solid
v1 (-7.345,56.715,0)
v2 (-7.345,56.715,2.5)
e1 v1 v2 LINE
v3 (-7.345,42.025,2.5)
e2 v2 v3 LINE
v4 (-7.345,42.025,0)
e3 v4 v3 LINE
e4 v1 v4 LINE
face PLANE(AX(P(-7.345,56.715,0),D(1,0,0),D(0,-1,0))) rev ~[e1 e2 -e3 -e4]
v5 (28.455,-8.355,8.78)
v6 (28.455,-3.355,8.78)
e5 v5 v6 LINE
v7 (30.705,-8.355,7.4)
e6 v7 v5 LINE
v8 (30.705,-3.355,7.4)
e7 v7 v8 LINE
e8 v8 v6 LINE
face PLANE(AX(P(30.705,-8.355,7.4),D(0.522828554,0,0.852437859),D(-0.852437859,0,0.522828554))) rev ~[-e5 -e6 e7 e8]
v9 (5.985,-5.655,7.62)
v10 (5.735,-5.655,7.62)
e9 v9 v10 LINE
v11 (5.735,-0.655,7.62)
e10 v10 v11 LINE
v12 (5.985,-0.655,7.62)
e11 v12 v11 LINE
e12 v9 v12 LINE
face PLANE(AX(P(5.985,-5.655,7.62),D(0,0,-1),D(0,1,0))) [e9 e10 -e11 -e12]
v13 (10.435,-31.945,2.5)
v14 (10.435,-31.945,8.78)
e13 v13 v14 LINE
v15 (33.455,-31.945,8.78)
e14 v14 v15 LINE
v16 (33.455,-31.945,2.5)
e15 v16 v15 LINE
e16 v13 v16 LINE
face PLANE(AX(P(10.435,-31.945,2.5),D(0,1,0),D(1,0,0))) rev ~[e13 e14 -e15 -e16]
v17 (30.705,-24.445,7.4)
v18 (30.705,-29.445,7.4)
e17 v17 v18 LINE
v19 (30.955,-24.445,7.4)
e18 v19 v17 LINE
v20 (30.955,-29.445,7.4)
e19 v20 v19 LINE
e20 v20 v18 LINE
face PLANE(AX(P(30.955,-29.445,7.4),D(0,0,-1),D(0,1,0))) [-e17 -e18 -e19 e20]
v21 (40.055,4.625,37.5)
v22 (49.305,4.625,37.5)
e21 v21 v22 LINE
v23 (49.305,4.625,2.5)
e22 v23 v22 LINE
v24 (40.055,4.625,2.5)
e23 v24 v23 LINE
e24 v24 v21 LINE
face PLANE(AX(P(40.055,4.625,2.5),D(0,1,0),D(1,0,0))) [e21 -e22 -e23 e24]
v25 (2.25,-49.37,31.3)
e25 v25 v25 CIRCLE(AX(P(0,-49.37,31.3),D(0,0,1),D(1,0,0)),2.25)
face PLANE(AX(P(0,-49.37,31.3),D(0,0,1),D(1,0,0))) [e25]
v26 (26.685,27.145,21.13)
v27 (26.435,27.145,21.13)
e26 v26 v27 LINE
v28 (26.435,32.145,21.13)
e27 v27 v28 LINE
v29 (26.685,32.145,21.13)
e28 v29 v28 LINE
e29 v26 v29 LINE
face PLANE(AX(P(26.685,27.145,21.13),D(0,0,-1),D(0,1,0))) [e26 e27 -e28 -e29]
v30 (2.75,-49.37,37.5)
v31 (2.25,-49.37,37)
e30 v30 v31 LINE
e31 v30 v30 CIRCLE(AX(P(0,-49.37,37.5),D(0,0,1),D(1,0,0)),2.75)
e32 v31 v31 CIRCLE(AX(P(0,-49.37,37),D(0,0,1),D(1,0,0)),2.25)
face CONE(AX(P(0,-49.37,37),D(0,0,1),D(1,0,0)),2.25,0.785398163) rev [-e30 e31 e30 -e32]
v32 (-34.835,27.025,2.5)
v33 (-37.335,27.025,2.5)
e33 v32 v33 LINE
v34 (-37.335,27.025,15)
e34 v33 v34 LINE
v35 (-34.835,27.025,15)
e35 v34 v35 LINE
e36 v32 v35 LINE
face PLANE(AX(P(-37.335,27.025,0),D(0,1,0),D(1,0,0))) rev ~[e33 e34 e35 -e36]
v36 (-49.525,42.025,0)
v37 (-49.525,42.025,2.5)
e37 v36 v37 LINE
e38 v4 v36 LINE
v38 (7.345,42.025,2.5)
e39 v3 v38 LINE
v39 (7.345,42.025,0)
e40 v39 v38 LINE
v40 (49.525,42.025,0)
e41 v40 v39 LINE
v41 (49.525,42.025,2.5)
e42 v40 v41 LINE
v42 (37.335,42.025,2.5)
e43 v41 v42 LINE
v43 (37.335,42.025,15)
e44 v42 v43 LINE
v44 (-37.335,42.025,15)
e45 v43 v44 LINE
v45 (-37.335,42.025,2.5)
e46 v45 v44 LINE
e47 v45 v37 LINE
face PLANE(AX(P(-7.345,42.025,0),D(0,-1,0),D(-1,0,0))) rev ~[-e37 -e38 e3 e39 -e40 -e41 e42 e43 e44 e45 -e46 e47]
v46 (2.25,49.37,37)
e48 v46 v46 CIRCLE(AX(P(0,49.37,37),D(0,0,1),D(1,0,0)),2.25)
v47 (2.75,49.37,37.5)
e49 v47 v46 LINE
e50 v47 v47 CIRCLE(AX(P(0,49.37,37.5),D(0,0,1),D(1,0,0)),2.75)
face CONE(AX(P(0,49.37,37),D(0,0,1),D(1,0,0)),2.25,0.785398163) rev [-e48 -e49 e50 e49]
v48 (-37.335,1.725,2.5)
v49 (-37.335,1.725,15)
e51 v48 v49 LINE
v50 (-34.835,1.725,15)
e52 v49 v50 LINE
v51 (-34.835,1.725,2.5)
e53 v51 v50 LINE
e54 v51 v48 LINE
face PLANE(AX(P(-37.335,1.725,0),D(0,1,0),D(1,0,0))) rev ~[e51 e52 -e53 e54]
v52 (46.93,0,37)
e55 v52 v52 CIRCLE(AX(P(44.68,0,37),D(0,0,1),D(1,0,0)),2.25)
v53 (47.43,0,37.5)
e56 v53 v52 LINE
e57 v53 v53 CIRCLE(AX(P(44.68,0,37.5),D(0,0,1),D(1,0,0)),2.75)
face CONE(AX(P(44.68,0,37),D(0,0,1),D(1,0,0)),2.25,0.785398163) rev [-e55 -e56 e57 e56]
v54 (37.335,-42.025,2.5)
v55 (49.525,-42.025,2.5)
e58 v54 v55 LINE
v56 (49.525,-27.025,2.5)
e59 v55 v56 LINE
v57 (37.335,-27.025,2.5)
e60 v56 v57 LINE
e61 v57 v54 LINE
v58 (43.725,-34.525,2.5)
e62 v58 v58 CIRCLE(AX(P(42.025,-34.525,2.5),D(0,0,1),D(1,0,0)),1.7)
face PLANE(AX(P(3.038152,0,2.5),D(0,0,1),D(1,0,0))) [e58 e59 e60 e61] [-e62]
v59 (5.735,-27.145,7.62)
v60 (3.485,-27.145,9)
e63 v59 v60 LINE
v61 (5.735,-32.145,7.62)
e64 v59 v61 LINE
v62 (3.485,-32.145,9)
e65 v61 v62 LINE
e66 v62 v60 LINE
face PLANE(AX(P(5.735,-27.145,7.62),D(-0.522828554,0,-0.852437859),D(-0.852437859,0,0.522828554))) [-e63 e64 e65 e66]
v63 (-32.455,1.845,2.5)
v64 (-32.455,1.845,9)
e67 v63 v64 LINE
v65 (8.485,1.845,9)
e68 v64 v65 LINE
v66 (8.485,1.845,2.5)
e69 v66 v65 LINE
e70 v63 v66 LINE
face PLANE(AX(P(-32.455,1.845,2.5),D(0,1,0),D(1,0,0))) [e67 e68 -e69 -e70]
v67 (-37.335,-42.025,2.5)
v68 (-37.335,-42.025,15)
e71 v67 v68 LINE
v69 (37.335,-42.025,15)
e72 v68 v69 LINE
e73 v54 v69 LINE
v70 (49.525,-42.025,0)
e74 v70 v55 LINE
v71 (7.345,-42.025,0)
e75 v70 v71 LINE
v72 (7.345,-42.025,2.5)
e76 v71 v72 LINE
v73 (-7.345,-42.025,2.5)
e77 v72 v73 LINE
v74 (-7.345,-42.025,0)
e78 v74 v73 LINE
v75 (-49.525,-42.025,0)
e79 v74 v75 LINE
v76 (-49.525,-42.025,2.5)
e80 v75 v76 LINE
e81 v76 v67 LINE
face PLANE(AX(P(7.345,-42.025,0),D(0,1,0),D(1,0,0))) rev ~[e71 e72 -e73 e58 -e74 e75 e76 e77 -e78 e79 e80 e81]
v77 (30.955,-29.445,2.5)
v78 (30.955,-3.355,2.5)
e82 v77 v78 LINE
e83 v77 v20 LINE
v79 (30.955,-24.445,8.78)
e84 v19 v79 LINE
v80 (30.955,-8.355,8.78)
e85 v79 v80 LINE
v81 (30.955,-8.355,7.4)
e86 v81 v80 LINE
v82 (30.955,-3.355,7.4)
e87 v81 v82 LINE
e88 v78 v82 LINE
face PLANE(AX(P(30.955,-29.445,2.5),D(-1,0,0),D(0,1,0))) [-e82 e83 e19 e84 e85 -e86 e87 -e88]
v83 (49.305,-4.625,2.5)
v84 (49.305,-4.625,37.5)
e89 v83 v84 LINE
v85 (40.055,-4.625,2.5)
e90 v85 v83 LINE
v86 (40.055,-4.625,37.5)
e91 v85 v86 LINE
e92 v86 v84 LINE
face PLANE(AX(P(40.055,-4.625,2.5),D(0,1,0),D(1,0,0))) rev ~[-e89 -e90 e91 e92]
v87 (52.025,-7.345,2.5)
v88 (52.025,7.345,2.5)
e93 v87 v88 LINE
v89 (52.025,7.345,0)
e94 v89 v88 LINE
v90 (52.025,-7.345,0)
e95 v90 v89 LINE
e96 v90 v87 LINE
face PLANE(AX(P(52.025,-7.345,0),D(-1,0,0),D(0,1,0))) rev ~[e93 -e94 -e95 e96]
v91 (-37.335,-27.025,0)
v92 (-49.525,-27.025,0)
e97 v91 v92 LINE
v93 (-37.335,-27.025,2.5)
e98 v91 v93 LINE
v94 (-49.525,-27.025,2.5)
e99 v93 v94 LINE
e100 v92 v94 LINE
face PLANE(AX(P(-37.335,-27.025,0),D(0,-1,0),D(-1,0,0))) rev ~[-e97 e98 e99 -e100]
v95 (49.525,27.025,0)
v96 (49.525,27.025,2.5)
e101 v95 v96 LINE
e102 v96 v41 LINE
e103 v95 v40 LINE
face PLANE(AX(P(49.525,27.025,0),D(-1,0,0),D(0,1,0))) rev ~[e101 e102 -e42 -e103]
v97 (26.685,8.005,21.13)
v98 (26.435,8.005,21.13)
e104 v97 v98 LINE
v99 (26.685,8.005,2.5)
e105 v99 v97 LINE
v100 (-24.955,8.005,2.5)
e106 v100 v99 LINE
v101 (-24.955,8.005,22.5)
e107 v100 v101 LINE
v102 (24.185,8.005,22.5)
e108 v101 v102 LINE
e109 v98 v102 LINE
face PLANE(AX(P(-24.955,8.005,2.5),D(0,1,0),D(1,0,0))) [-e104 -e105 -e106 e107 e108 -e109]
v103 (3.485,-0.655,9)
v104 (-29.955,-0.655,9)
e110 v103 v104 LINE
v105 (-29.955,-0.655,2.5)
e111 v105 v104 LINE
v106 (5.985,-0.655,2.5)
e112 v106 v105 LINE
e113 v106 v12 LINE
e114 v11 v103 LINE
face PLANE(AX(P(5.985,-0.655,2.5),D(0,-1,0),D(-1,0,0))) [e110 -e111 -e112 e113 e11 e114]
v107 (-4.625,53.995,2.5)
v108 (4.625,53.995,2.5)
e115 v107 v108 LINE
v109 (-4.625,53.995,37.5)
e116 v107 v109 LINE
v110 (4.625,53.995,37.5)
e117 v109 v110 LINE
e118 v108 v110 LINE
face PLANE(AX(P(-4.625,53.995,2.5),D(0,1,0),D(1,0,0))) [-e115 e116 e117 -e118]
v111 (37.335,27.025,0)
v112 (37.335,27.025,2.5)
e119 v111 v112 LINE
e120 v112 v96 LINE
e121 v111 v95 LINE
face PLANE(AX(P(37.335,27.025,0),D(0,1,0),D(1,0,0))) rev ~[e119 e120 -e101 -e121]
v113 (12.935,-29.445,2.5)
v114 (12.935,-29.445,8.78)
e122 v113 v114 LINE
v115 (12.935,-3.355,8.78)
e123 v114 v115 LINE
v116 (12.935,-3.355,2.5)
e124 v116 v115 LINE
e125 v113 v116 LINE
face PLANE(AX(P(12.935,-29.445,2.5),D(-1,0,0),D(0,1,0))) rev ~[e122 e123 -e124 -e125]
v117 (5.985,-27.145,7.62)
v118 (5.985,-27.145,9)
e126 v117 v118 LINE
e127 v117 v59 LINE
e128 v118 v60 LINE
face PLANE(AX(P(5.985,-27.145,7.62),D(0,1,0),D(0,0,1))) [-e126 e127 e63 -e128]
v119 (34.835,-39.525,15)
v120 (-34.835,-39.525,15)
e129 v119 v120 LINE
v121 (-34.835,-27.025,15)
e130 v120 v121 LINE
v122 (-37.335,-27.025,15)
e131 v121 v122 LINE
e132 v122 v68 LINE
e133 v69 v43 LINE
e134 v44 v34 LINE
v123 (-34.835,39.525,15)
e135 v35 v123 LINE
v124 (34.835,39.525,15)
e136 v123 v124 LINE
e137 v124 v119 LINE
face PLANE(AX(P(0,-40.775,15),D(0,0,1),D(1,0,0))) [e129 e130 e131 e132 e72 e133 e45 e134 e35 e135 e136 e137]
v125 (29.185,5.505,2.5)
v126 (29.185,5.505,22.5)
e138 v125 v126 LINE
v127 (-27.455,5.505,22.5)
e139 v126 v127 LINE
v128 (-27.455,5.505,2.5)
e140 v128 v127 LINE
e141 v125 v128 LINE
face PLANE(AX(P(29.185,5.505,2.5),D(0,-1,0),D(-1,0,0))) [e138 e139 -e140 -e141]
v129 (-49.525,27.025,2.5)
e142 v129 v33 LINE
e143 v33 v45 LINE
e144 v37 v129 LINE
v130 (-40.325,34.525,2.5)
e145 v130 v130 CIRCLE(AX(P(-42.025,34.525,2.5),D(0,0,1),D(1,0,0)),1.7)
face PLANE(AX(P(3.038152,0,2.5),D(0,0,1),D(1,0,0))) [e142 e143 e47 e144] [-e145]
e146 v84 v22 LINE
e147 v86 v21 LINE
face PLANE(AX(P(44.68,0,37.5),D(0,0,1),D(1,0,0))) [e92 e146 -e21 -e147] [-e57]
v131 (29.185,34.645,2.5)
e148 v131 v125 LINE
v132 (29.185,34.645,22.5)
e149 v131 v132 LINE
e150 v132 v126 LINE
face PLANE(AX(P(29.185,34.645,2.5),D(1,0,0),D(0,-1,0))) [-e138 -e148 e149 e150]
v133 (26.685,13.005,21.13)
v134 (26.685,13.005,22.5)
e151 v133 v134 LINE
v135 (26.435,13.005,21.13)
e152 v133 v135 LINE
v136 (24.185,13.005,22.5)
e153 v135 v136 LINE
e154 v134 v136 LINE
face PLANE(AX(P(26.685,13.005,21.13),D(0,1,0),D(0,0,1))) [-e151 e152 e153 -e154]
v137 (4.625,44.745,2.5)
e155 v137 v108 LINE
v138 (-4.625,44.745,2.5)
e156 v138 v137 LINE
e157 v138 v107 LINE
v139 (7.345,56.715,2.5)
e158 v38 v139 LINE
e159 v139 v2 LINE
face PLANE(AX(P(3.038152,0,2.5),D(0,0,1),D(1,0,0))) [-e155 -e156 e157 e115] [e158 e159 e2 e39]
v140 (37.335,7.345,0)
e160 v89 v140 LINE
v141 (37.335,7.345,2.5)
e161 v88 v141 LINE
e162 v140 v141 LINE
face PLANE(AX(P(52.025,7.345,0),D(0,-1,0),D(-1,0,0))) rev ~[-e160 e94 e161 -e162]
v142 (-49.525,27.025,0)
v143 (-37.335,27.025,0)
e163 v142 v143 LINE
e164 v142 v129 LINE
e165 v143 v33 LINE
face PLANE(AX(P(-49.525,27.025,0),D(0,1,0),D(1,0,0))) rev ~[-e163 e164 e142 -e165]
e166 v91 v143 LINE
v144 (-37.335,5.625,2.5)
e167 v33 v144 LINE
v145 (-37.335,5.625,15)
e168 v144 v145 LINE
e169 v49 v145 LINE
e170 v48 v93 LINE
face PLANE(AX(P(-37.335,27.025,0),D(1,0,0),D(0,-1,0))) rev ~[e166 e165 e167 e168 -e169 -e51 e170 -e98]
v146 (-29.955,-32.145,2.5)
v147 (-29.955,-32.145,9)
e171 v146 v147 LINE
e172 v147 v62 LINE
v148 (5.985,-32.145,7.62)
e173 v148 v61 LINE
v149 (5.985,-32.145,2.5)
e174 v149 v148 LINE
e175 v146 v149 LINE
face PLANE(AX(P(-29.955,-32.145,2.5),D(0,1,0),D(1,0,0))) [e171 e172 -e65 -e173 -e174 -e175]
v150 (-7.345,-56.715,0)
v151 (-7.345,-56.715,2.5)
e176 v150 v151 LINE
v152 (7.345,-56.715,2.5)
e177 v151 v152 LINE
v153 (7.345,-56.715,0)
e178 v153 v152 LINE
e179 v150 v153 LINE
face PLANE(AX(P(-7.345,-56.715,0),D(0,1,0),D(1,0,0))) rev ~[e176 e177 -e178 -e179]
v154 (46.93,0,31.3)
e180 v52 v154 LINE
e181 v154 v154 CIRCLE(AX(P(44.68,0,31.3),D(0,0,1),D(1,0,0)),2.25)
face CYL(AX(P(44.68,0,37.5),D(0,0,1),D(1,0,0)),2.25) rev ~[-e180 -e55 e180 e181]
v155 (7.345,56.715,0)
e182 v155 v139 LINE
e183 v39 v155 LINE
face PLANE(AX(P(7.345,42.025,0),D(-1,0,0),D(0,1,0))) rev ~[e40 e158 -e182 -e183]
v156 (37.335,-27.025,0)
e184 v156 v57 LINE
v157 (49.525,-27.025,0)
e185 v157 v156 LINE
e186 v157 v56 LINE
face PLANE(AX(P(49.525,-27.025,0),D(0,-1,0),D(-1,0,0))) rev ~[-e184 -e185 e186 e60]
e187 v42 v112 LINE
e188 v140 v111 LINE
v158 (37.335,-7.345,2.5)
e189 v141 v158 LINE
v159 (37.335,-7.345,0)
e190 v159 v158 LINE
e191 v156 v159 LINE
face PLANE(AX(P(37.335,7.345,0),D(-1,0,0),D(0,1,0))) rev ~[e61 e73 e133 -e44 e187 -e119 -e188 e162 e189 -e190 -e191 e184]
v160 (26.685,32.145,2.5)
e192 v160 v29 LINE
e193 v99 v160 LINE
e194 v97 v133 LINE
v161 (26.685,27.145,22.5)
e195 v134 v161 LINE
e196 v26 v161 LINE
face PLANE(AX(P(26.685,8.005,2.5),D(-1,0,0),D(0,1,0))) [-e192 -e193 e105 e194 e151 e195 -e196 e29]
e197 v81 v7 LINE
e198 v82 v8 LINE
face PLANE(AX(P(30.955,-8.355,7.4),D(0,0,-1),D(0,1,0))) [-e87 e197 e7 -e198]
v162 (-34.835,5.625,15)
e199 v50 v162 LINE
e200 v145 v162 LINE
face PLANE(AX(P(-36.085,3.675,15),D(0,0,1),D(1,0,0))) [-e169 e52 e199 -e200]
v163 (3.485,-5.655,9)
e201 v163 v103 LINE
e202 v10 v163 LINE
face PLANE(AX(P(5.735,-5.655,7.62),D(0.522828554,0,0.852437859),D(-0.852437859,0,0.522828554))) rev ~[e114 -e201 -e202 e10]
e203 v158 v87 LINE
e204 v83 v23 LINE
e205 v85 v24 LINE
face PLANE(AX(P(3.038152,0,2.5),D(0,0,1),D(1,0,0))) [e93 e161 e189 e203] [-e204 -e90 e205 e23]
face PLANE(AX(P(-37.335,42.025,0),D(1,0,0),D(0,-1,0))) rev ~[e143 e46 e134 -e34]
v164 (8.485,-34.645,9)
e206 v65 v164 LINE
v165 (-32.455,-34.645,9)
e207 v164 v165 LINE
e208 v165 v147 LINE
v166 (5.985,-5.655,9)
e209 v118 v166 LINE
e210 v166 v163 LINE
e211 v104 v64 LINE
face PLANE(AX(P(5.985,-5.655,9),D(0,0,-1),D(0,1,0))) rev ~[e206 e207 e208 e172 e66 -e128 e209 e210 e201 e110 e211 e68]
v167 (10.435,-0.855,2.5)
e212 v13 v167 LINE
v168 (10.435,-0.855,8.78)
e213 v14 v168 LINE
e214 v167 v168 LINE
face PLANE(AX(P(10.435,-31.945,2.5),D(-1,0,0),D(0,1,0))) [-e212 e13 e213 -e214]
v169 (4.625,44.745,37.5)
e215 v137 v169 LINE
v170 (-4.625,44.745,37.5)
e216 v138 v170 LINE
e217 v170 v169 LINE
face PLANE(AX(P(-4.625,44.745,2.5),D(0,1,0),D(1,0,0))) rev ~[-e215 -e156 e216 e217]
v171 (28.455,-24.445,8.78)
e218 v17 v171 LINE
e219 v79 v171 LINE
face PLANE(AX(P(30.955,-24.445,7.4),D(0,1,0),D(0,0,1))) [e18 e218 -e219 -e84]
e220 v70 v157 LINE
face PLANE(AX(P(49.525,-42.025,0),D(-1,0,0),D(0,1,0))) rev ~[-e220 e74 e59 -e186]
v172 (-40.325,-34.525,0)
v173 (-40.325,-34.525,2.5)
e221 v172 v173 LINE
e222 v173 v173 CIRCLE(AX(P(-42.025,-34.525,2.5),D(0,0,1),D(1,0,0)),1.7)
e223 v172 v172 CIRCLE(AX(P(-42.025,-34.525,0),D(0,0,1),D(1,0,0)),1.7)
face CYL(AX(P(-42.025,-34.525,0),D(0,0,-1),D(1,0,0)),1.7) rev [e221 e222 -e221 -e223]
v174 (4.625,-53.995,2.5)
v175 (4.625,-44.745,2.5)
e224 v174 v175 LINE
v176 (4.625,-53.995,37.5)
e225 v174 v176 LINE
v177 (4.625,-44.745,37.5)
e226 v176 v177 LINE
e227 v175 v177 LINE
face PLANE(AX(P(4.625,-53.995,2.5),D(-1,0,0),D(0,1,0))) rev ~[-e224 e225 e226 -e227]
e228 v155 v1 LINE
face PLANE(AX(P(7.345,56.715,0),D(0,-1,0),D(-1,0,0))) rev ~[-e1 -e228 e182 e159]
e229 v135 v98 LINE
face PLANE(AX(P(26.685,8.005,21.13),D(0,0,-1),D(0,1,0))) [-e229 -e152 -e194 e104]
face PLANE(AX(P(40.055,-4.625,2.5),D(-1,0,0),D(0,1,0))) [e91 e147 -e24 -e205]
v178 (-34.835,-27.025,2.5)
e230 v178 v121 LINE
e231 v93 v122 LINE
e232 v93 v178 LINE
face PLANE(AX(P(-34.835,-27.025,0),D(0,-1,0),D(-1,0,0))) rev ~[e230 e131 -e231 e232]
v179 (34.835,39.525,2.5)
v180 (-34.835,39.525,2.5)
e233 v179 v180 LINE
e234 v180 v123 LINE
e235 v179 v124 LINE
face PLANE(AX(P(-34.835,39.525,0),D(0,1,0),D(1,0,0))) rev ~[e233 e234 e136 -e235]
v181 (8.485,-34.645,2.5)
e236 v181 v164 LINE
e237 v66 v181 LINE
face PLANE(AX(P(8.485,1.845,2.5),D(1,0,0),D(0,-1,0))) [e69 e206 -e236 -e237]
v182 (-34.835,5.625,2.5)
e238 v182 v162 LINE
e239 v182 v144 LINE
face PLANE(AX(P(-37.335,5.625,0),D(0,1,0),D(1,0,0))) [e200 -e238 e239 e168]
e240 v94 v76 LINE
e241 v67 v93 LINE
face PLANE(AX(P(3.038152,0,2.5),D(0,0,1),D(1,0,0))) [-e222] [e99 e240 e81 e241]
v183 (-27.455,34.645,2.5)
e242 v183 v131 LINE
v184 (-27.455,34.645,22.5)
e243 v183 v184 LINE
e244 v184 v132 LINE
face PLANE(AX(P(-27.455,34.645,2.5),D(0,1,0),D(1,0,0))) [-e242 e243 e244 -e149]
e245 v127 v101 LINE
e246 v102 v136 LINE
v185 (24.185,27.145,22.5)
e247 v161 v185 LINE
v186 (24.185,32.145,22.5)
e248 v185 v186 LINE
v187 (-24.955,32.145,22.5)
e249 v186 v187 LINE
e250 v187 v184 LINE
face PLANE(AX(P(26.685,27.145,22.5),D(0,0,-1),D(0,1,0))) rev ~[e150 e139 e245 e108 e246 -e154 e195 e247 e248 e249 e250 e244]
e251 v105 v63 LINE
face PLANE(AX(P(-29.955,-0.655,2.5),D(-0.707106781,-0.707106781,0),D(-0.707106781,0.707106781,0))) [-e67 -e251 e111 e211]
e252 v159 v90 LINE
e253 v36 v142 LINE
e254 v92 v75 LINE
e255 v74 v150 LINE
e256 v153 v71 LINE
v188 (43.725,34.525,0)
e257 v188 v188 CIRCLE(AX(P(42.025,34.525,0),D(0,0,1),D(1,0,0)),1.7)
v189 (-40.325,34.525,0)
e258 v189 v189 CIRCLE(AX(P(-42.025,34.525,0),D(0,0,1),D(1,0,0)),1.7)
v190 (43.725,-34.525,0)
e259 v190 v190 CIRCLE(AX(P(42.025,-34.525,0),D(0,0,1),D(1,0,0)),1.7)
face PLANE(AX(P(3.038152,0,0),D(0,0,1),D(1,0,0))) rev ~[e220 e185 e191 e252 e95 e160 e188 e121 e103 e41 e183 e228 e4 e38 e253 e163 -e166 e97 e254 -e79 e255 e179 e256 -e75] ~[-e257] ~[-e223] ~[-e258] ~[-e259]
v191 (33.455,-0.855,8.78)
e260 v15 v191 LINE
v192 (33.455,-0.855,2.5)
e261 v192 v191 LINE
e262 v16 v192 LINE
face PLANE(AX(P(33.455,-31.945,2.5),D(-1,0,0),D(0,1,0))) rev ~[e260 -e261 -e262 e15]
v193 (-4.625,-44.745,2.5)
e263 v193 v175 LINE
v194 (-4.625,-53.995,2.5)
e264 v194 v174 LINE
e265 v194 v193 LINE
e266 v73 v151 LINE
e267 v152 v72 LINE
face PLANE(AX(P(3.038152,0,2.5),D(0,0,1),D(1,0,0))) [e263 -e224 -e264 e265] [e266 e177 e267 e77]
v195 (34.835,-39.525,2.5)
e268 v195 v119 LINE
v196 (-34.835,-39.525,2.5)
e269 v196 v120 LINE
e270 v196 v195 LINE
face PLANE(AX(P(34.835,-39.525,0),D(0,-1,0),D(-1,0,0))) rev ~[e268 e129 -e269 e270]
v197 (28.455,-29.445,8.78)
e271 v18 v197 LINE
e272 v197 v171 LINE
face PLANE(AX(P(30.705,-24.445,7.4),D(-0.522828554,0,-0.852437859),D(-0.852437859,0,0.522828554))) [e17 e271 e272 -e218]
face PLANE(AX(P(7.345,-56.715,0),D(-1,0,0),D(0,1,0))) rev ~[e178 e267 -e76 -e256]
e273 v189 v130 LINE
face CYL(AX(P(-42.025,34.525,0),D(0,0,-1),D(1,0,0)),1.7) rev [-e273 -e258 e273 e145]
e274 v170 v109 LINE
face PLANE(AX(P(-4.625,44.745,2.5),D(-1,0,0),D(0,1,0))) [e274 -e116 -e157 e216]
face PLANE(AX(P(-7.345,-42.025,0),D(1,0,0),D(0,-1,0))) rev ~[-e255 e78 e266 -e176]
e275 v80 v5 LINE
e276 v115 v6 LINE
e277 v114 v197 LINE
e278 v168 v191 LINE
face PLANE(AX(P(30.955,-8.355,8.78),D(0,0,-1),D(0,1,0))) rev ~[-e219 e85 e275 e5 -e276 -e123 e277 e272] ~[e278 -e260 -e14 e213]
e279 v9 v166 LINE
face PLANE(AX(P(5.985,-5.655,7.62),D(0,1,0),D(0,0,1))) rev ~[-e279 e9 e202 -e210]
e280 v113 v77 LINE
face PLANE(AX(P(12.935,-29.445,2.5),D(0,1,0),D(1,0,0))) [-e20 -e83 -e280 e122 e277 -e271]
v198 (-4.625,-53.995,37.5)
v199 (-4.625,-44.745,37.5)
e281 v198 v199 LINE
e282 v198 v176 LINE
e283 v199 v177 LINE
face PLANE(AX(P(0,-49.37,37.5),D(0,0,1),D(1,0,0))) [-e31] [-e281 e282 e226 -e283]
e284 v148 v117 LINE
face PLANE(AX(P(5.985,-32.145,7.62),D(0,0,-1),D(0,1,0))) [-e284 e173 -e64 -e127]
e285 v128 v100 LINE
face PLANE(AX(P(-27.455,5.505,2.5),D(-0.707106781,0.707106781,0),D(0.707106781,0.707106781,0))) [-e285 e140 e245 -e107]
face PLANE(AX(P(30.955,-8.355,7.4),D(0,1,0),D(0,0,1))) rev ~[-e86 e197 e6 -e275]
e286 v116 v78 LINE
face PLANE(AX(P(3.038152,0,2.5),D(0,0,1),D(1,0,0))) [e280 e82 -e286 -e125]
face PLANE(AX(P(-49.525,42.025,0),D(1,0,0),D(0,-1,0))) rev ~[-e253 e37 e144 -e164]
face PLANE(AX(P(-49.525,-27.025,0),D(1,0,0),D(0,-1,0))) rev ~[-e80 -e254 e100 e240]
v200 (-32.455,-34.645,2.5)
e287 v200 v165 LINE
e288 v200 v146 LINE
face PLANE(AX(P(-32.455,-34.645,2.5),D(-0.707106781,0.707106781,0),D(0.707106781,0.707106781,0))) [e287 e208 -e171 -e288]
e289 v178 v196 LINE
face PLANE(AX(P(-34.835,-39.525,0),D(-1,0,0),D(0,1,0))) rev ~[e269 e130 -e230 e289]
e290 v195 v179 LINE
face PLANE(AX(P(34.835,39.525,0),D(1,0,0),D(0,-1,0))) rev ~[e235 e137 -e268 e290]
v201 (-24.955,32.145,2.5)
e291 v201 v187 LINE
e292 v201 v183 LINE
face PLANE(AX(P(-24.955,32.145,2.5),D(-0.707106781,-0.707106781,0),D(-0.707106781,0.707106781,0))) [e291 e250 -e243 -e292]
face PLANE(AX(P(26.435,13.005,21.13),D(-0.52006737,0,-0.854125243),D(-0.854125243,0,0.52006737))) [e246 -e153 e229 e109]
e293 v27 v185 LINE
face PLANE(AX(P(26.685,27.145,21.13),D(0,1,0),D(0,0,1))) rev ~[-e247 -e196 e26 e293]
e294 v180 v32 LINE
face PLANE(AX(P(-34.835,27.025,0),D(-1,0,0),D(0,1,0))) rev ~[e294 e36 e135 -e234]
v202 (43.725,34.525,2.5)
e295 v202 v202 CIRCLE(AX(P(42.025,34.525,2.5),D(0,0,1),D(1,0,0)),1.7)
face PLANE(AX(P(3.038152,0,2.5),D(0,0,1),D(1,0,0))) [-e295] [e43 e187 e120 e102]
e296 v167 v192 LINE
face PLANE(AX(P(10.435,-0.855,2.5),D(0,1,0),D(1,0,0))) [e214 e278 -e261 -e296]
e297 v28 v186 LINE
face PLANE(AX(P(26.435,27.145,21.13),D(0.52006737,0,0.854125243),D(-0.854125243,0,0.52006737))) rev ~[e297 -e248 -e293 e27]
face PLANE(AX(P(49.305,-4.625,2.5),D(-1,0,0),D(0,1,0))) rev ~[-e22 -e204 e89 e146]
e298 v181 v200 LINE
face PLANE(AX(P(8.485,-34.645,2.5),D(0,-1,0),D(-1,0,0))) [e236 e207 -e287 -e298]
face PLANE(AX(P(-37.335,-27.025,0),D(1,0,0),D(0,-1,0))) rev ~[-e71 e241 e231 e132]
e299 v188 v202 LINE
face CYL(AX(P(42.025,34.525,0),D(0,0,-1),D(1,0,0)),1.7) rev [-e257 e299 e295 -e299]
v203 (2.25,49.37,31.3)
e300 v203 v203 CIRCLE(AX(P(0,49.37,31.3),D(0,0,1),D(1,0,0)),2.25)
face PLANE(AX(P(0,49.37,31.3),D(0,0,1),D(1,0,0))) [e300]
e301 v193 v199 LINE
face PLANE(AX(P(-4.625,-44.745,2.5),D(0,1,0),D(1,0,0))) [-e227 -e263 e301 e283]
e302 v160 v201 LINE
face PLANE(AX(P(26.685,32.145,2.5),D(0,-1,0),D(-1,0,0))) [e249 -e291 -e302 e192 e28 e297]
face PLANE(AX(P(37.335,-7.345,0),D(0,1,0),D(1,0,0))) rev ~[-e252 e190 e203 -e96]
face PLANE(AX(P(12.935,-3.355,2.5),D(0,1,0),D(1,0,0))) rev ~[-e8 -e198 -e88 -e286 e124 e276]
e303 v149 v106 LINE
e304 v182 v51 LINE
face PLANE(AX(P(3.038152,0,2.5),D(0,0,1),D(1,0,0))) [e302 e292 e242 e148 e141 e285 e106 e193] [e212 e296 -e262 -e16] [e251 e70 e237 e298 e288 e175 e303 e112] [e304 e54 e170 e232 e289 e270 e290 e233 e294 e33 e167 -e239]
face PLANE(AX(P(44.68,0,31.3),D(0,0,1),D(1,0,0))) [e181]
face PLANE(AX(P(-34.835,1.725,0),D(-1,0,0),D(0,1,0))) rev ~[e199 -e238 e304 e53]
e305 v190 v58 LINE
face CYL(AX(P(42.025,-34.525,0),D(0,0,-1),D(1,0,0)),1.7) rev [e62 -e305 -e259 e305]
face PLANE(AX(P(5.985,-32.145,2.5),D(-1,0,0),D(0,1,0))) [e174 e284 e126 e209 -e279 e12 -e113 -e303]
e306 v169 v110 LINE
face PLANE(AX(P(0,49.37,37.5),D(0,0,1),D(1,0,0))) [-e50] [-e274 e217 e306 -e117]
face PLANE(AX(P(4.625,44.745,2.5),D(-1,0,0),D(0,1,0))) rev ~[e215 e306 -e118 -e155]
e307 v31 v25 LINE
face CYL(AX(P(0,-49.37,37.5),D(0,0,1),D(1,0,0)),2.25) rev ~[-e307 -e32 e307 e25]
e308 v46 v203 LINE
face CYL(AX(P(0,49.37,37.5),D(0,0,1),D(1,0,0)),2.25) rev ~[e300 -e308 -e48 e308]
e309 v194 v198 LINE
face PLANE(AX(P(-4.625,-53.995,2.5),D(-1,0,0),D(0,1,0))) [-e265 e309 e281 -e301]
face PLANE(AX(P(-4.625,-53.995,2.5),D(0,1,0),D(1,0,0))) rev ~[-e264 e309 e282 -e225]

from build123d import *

# Parameters (mm, degrees)
SKETCH1_R            = 1.7
BOSS_EXTRUDE1_DEPTH  = 2.5
SKETCH1_6_W          = 2.5
SKETCH1_6_H          = 3.9
SKETCH1_6_H_2        = 7.5
BOSS_EXTRUDE3_DEPTH  = 15
BOSS_EXTRUDE8_DEPTH  = 20
BOSS_EXTRUDE9_DEPTH  = 6.5
SKETCH6_9_W          = 23.02
SKETCH6_9_H          = 31.09
SKETCH6_9_W_2        = 18.02
SKETCH6_9_H_2        = 26.09
BOSS_EXTRUDE13_DEPTH = 6.28
SKETCH7_W            = 9.25
SKETCH7_H            = 9.25
BOSS_EXTRUDE14_DEPTH = 35
SKETCH8_R            = 2.25
CUT_EXTRUDE1_DEPTH   = 6.2
CHAMFER1_SIZE        = 0.5
SKETCH9_W            = 1.37
SKETCH9_H            = 5
BOSS_EXTRUDE15_DEPTH = 2.5
CUT_EXTRUDE2_DEPTH   = 5
SKETCH12_W           = 1.38
SKETCH12_H           = 5
BOSS_EXTRUDE16_DEPTH = 2.5
CUT_EXTRUDE3_DEPTH   = 5
CUT_EXTRUDE4_DEPTH   = 5
SKETCH15_W           = 1.38
SKETCH15_H           = 5
BOSS_EXTRUDE17_DEPTH = 2.5
CUT_EXTRUDE5_DEPTH   = 5
CUT_EXTRUDE6_DEPTH   = 5
CUT_EXTRUDE7_DEPTH   = 5


with BuildPart() as part:
    # Sketch1 → Boss-Extrude1 (new body)
    with BuildSketch(Plane.XY):
        Polygon((-49.525, 42.025), (-49.525, 27.025), (-37.335, 27.025), (-37.335, -27.025), (-49.525, -27.025), (-49.525, -42.025), (-7.345, -42.025), (-7.345, -56.715), (7.345, -56.715), (7.345, -42.025), (49.525, -42.025), (49.525, -27.025), (37.335, -27.025), (37.335, -7.345), (52.025, -7.345), (52.025, 7.345), (37.335, 7.345), (37.335, 27.025), (49.525, 27.025), (49.525, 42.025), (7.345, 42.025), (7.345, 56.715), (-7.345, 56.715), (-7.345, 42.025), align=None)
        with Locations((-42.025, -34.525)):
            Circle(SKETCH1_R, mode=Mode.SUBTRACT)
        with Locations((42.025, -34.525)):
            Circle(SKETCH1_R, mode=Mode.SUBTRACT)
        with Locations((-42.025, 34.525)):
            Circle(SKETCH1_R, mode=Mode.SUBTRACT)
        with Locations((42.025, 34.525)):
            Circle(SKETCH1_R, mode=Mode.SUBTRACT)
    extrude(amount=BOSS_EXTRUDE1_DEPTH)

    # Sketch1<6> → Boss-Extrude3 (add)
    with BuildSketch(Plane.XY):
        Polygon((-34.525, -39.525), (-34.525, -42.025), (-7.345, -42.025), (7.345, -42.025), (34.525, -42.025), (34.525, -39.525), align=None)
        Polygon((-34.525, 39.525), (34.525, 39.525), (34.525, 42.025), (7.345, 42.025), (-7.345, 42.025), (-34.525, 42.025), align=None)
        Polygon((34.835, 27.025), (34.835, -27.025), (37.335, -27.025), (37.335, -7.345), (37.335, 7.345), (37.335, 27.025), align=None)
        with Locations((-36.085, 3.675)):
            Rectangle(SKETCH1_6_W, SKETCH1_6_H)
        Polygon((34.835, 39.525), (34.835, 27.025), (37.335, 27.025), (37.335, 42.025), (34.525, 42.025), (34.525, 39.525), align=None)
        Polygon((34.835, -39.525), (34.525, -39.525), (34.525, -42.025), (37.335, -42.025), (37.335, -27.025), (34.835, -27.025), align=None)
        Polygon((-37.335, -34.525), (-37.335, -42.025), (-34.525, -42.025), (-34.525, -39.525), (-34.835, -39.525), (-34.835, -34.525), align=None)
        Polygon((-37.335, -34.182141508), (-37.335, -34.525), (-34.835, -34.525), (-34.835, -27.025), (-37.335, -27.025), align=None)
        with Locations((-36.085, 30.775)):
            Rectangle(SKETCH1_6_W, SKETCH1_6_H_2)
        Polygon((-37.335, 34.525), (-34.835, 34.525), (-34.835, 39.525), (-34.525, 39.525), (-34.525, 42.025), (-37.335, 42.025), align=None)
    extrude(amount=BOSS_EXTRUDE3_DEPTH)

    # Sketch6 → Boss-Extrude8 (add)
    with BuildSketch(Plane.XY.offset(2.5)):
        Polygon((26.685, 32.145), (-24.955, 32.145), (-27.455, 34.645), (29.185, 34.645), (29.185, 5.505), (-27.455, 5.505), (-24.955, 8.005), (26.685, 8.005), align=None)
    extrude(amount=BOSS_EXTRUDE8_DEPTH)

    # Sketch6<4> → Boss-Extrude9 (add)
    with BuildSketch(Plane.XY.offset(2.5)):
        Polygon((5.985, -0.655), (-29.955, -0.655), (-32.455, 1.845), (8.485, 1.845), (8.485, -34.645), (-32.455, -34.645), (-29.955, -32.145), (5.985, -32.145), align=None)
    extrude(amount=BOSS_EXTRUDE9_DEPTH)

    # Sketch6<9> → Boss-Extrude13 (add)
    with BuildSketch(Plane.XY.offset(2.5)):
        with Locations((21.945, -16.4)):
            Rectangle(SKETCH6_9_W, SKETCH6_9_H)
        with Locations((21.945, -16.4)):
            Rectangle(SKETCH6_9_W_2, SKETCH6_9_H_2, mode=Mode.SUBTRACT)
    extrude(amount=BOSS_EXTRUDE13_DEPTH)

    # Sketch7 → Boss-Extrude14 (add)
    with BuildSketch(Plane.XY.offset(2.5)):
        with Locations((0, 49.37)):
            Rectangle(SKETCH7_W, SKETCH7_H)
        with Locations((44.68, 0)):
            Rectangle(SKETCH7_W, SKETCH7_H)
        with Locations((0, -49.37)):
            Rectangle(SKETCH7_W, SKETCH7_H)
    extrude(amount=BOSS_EXTRUDE14_DEPTH)

    # Sketch8 → Cut-Extrude1 (cut)
    with BuildSketch(Plane.XY.offset(37.5)):
        with Locations((0, -49.37)):
            Circle(SKETCH8_R)
        with Locations((44.68, 0)):
            Circle(SKETCH8_R)
        with Locations((0, 49.37)):
            Circle(SKETCH8_R)
    extrude(amount=-CUT_EXTRUDE1_DEPTH, mode=Mode.SUBTRACT)

    # Chamfer1
    chamfer1_edges = [part.edges().sort_by_distance(p)[0] for p in [
        (-2.25, -49.37, 37.5),
        (42.43, 0, 37.5),
        (-2.25, 49.37, 37.5),
    ]]
    chamfer(chamfer1_edges, length=CHAMFER1_SIZE)

    # Sketch9 → Boss-Extrude15 (add)
    with BuildSketch(Plane.ZY.offset(-26.685)):
        with Locations((21.815, 29.645)):
            Rectangle(SKETCH9_W, SKETCH9_H)
        with Locations((21.815, 10.505)):
            Rectangle(SKETCH9_W, SKETCH9_H)
    extrude(amount=BOSS_EXTRUDE15_DEPTH)

    # Sketch10 → Cut-Extrude2 (cut)
    with BuildSketch(Plane(origin=(0, 27.145, 0), x_dir=(1, 0, 0), z_dir=(0, 1, 0))):
        Polygon((26.435, -21.13), (24.185, -22.5), (24.185, -21.13), align=None)
    extrude(amount=CUT_EXTRUDE2_DEPTH, mode=Mode.SUBTRACT)

    # Sketch12 → Boss-Extrude16 (add)
    with BuildSketch(Plane.ZY.offset(-30.955)):
        with Locations((8.09, -5.855)):
            Rectangle(SKETCH12_W, SKETCH12_H)
        with Locations((8.09, -26.945)):
            Rectangle(SKETCH12_W, SKETCH12_H)
    extrude(amount=BOSS_EXTRUDE16_DEPTH)

    # Sketch13 → Cut-Extrude3 (cut)
    with BuildSketch(Plane.XZ.offset(8.355)):
        Polygon((30.705, 7.4), (28.455, 8.78), (28.455, 7.4), align=None)
    extrude(amount=-CUT_EXTRUDE3_DEPTH, mode=Mode.SUBTRACT)

    # Sketch14 → Cut-Extrude4 (cut)
    with BuildSketch(Plane(origin=(0, -24.445, 0), x_dir=(1, 0, 0), z_dir=(0, 1, 0))):
        Polygon((30.705, -7.4), (28.455, -8.78), (28.455, -7.4), align=None)
    extrude(amount=-CUT_EXTRUDE4_DEPTH, mode=Mode.SUBTRACT)

    # Sketch15 → Boss-Extrude17 (add)
    with BuildSketch(Plane.ZY.offset(-5.985)):
        with Locations((8.31, -3.155)):
            Rectangle(SKETCH15_W, SKETCH15_H)
        with Locations((8.31, -29.645)):
            Rectangle(SKETCH15_W, SKETCH15_H)
    extrude(amount=BOSS_EXTRUDE17_DEPTH)

    # Sketch16 → Cut-Extrude5 (cut)
    with BuildSketch(Plane.XZ.offset(5.655)):
        Polygon((3.485, 9), (3.485, 7.62), (5.735, 7.62), align=None)
    extrude(amount=-CUT_EXTRUDE5_DEPTH, mode=Mode.SUBTRACT)

    # Sketch17 → Cut-Extrude6 (cut)
    with BuildSketch(Plane(origin=(0, -27.145, 0), x_dir=(1, 0, 0), z_dir=(0, 1, 0))):
        Polygon((3.485, -9), (3.485, -7.62), (5.735, -7.62), align=None)
    extrude(amount=-CUT_EXTRUDE6_DEPTH, mode=Mode.SUBTRACT)

    # Sketch18 → Cut-Extrude7 (cut)
    with BuildSketch(Plane(origin=(0, 13.005, 0), x_dir=(1, 0, 0), z_dir=(0, 1, 0))):
        Polygon((24.185, -22.5), (24.185, -21.13), (26.435, -21.13), align=None)
    extrude(amount=-CUT_EXTRUDE7_DEPTH, mode=Mode.SUBTRACT)


solid = part.part
